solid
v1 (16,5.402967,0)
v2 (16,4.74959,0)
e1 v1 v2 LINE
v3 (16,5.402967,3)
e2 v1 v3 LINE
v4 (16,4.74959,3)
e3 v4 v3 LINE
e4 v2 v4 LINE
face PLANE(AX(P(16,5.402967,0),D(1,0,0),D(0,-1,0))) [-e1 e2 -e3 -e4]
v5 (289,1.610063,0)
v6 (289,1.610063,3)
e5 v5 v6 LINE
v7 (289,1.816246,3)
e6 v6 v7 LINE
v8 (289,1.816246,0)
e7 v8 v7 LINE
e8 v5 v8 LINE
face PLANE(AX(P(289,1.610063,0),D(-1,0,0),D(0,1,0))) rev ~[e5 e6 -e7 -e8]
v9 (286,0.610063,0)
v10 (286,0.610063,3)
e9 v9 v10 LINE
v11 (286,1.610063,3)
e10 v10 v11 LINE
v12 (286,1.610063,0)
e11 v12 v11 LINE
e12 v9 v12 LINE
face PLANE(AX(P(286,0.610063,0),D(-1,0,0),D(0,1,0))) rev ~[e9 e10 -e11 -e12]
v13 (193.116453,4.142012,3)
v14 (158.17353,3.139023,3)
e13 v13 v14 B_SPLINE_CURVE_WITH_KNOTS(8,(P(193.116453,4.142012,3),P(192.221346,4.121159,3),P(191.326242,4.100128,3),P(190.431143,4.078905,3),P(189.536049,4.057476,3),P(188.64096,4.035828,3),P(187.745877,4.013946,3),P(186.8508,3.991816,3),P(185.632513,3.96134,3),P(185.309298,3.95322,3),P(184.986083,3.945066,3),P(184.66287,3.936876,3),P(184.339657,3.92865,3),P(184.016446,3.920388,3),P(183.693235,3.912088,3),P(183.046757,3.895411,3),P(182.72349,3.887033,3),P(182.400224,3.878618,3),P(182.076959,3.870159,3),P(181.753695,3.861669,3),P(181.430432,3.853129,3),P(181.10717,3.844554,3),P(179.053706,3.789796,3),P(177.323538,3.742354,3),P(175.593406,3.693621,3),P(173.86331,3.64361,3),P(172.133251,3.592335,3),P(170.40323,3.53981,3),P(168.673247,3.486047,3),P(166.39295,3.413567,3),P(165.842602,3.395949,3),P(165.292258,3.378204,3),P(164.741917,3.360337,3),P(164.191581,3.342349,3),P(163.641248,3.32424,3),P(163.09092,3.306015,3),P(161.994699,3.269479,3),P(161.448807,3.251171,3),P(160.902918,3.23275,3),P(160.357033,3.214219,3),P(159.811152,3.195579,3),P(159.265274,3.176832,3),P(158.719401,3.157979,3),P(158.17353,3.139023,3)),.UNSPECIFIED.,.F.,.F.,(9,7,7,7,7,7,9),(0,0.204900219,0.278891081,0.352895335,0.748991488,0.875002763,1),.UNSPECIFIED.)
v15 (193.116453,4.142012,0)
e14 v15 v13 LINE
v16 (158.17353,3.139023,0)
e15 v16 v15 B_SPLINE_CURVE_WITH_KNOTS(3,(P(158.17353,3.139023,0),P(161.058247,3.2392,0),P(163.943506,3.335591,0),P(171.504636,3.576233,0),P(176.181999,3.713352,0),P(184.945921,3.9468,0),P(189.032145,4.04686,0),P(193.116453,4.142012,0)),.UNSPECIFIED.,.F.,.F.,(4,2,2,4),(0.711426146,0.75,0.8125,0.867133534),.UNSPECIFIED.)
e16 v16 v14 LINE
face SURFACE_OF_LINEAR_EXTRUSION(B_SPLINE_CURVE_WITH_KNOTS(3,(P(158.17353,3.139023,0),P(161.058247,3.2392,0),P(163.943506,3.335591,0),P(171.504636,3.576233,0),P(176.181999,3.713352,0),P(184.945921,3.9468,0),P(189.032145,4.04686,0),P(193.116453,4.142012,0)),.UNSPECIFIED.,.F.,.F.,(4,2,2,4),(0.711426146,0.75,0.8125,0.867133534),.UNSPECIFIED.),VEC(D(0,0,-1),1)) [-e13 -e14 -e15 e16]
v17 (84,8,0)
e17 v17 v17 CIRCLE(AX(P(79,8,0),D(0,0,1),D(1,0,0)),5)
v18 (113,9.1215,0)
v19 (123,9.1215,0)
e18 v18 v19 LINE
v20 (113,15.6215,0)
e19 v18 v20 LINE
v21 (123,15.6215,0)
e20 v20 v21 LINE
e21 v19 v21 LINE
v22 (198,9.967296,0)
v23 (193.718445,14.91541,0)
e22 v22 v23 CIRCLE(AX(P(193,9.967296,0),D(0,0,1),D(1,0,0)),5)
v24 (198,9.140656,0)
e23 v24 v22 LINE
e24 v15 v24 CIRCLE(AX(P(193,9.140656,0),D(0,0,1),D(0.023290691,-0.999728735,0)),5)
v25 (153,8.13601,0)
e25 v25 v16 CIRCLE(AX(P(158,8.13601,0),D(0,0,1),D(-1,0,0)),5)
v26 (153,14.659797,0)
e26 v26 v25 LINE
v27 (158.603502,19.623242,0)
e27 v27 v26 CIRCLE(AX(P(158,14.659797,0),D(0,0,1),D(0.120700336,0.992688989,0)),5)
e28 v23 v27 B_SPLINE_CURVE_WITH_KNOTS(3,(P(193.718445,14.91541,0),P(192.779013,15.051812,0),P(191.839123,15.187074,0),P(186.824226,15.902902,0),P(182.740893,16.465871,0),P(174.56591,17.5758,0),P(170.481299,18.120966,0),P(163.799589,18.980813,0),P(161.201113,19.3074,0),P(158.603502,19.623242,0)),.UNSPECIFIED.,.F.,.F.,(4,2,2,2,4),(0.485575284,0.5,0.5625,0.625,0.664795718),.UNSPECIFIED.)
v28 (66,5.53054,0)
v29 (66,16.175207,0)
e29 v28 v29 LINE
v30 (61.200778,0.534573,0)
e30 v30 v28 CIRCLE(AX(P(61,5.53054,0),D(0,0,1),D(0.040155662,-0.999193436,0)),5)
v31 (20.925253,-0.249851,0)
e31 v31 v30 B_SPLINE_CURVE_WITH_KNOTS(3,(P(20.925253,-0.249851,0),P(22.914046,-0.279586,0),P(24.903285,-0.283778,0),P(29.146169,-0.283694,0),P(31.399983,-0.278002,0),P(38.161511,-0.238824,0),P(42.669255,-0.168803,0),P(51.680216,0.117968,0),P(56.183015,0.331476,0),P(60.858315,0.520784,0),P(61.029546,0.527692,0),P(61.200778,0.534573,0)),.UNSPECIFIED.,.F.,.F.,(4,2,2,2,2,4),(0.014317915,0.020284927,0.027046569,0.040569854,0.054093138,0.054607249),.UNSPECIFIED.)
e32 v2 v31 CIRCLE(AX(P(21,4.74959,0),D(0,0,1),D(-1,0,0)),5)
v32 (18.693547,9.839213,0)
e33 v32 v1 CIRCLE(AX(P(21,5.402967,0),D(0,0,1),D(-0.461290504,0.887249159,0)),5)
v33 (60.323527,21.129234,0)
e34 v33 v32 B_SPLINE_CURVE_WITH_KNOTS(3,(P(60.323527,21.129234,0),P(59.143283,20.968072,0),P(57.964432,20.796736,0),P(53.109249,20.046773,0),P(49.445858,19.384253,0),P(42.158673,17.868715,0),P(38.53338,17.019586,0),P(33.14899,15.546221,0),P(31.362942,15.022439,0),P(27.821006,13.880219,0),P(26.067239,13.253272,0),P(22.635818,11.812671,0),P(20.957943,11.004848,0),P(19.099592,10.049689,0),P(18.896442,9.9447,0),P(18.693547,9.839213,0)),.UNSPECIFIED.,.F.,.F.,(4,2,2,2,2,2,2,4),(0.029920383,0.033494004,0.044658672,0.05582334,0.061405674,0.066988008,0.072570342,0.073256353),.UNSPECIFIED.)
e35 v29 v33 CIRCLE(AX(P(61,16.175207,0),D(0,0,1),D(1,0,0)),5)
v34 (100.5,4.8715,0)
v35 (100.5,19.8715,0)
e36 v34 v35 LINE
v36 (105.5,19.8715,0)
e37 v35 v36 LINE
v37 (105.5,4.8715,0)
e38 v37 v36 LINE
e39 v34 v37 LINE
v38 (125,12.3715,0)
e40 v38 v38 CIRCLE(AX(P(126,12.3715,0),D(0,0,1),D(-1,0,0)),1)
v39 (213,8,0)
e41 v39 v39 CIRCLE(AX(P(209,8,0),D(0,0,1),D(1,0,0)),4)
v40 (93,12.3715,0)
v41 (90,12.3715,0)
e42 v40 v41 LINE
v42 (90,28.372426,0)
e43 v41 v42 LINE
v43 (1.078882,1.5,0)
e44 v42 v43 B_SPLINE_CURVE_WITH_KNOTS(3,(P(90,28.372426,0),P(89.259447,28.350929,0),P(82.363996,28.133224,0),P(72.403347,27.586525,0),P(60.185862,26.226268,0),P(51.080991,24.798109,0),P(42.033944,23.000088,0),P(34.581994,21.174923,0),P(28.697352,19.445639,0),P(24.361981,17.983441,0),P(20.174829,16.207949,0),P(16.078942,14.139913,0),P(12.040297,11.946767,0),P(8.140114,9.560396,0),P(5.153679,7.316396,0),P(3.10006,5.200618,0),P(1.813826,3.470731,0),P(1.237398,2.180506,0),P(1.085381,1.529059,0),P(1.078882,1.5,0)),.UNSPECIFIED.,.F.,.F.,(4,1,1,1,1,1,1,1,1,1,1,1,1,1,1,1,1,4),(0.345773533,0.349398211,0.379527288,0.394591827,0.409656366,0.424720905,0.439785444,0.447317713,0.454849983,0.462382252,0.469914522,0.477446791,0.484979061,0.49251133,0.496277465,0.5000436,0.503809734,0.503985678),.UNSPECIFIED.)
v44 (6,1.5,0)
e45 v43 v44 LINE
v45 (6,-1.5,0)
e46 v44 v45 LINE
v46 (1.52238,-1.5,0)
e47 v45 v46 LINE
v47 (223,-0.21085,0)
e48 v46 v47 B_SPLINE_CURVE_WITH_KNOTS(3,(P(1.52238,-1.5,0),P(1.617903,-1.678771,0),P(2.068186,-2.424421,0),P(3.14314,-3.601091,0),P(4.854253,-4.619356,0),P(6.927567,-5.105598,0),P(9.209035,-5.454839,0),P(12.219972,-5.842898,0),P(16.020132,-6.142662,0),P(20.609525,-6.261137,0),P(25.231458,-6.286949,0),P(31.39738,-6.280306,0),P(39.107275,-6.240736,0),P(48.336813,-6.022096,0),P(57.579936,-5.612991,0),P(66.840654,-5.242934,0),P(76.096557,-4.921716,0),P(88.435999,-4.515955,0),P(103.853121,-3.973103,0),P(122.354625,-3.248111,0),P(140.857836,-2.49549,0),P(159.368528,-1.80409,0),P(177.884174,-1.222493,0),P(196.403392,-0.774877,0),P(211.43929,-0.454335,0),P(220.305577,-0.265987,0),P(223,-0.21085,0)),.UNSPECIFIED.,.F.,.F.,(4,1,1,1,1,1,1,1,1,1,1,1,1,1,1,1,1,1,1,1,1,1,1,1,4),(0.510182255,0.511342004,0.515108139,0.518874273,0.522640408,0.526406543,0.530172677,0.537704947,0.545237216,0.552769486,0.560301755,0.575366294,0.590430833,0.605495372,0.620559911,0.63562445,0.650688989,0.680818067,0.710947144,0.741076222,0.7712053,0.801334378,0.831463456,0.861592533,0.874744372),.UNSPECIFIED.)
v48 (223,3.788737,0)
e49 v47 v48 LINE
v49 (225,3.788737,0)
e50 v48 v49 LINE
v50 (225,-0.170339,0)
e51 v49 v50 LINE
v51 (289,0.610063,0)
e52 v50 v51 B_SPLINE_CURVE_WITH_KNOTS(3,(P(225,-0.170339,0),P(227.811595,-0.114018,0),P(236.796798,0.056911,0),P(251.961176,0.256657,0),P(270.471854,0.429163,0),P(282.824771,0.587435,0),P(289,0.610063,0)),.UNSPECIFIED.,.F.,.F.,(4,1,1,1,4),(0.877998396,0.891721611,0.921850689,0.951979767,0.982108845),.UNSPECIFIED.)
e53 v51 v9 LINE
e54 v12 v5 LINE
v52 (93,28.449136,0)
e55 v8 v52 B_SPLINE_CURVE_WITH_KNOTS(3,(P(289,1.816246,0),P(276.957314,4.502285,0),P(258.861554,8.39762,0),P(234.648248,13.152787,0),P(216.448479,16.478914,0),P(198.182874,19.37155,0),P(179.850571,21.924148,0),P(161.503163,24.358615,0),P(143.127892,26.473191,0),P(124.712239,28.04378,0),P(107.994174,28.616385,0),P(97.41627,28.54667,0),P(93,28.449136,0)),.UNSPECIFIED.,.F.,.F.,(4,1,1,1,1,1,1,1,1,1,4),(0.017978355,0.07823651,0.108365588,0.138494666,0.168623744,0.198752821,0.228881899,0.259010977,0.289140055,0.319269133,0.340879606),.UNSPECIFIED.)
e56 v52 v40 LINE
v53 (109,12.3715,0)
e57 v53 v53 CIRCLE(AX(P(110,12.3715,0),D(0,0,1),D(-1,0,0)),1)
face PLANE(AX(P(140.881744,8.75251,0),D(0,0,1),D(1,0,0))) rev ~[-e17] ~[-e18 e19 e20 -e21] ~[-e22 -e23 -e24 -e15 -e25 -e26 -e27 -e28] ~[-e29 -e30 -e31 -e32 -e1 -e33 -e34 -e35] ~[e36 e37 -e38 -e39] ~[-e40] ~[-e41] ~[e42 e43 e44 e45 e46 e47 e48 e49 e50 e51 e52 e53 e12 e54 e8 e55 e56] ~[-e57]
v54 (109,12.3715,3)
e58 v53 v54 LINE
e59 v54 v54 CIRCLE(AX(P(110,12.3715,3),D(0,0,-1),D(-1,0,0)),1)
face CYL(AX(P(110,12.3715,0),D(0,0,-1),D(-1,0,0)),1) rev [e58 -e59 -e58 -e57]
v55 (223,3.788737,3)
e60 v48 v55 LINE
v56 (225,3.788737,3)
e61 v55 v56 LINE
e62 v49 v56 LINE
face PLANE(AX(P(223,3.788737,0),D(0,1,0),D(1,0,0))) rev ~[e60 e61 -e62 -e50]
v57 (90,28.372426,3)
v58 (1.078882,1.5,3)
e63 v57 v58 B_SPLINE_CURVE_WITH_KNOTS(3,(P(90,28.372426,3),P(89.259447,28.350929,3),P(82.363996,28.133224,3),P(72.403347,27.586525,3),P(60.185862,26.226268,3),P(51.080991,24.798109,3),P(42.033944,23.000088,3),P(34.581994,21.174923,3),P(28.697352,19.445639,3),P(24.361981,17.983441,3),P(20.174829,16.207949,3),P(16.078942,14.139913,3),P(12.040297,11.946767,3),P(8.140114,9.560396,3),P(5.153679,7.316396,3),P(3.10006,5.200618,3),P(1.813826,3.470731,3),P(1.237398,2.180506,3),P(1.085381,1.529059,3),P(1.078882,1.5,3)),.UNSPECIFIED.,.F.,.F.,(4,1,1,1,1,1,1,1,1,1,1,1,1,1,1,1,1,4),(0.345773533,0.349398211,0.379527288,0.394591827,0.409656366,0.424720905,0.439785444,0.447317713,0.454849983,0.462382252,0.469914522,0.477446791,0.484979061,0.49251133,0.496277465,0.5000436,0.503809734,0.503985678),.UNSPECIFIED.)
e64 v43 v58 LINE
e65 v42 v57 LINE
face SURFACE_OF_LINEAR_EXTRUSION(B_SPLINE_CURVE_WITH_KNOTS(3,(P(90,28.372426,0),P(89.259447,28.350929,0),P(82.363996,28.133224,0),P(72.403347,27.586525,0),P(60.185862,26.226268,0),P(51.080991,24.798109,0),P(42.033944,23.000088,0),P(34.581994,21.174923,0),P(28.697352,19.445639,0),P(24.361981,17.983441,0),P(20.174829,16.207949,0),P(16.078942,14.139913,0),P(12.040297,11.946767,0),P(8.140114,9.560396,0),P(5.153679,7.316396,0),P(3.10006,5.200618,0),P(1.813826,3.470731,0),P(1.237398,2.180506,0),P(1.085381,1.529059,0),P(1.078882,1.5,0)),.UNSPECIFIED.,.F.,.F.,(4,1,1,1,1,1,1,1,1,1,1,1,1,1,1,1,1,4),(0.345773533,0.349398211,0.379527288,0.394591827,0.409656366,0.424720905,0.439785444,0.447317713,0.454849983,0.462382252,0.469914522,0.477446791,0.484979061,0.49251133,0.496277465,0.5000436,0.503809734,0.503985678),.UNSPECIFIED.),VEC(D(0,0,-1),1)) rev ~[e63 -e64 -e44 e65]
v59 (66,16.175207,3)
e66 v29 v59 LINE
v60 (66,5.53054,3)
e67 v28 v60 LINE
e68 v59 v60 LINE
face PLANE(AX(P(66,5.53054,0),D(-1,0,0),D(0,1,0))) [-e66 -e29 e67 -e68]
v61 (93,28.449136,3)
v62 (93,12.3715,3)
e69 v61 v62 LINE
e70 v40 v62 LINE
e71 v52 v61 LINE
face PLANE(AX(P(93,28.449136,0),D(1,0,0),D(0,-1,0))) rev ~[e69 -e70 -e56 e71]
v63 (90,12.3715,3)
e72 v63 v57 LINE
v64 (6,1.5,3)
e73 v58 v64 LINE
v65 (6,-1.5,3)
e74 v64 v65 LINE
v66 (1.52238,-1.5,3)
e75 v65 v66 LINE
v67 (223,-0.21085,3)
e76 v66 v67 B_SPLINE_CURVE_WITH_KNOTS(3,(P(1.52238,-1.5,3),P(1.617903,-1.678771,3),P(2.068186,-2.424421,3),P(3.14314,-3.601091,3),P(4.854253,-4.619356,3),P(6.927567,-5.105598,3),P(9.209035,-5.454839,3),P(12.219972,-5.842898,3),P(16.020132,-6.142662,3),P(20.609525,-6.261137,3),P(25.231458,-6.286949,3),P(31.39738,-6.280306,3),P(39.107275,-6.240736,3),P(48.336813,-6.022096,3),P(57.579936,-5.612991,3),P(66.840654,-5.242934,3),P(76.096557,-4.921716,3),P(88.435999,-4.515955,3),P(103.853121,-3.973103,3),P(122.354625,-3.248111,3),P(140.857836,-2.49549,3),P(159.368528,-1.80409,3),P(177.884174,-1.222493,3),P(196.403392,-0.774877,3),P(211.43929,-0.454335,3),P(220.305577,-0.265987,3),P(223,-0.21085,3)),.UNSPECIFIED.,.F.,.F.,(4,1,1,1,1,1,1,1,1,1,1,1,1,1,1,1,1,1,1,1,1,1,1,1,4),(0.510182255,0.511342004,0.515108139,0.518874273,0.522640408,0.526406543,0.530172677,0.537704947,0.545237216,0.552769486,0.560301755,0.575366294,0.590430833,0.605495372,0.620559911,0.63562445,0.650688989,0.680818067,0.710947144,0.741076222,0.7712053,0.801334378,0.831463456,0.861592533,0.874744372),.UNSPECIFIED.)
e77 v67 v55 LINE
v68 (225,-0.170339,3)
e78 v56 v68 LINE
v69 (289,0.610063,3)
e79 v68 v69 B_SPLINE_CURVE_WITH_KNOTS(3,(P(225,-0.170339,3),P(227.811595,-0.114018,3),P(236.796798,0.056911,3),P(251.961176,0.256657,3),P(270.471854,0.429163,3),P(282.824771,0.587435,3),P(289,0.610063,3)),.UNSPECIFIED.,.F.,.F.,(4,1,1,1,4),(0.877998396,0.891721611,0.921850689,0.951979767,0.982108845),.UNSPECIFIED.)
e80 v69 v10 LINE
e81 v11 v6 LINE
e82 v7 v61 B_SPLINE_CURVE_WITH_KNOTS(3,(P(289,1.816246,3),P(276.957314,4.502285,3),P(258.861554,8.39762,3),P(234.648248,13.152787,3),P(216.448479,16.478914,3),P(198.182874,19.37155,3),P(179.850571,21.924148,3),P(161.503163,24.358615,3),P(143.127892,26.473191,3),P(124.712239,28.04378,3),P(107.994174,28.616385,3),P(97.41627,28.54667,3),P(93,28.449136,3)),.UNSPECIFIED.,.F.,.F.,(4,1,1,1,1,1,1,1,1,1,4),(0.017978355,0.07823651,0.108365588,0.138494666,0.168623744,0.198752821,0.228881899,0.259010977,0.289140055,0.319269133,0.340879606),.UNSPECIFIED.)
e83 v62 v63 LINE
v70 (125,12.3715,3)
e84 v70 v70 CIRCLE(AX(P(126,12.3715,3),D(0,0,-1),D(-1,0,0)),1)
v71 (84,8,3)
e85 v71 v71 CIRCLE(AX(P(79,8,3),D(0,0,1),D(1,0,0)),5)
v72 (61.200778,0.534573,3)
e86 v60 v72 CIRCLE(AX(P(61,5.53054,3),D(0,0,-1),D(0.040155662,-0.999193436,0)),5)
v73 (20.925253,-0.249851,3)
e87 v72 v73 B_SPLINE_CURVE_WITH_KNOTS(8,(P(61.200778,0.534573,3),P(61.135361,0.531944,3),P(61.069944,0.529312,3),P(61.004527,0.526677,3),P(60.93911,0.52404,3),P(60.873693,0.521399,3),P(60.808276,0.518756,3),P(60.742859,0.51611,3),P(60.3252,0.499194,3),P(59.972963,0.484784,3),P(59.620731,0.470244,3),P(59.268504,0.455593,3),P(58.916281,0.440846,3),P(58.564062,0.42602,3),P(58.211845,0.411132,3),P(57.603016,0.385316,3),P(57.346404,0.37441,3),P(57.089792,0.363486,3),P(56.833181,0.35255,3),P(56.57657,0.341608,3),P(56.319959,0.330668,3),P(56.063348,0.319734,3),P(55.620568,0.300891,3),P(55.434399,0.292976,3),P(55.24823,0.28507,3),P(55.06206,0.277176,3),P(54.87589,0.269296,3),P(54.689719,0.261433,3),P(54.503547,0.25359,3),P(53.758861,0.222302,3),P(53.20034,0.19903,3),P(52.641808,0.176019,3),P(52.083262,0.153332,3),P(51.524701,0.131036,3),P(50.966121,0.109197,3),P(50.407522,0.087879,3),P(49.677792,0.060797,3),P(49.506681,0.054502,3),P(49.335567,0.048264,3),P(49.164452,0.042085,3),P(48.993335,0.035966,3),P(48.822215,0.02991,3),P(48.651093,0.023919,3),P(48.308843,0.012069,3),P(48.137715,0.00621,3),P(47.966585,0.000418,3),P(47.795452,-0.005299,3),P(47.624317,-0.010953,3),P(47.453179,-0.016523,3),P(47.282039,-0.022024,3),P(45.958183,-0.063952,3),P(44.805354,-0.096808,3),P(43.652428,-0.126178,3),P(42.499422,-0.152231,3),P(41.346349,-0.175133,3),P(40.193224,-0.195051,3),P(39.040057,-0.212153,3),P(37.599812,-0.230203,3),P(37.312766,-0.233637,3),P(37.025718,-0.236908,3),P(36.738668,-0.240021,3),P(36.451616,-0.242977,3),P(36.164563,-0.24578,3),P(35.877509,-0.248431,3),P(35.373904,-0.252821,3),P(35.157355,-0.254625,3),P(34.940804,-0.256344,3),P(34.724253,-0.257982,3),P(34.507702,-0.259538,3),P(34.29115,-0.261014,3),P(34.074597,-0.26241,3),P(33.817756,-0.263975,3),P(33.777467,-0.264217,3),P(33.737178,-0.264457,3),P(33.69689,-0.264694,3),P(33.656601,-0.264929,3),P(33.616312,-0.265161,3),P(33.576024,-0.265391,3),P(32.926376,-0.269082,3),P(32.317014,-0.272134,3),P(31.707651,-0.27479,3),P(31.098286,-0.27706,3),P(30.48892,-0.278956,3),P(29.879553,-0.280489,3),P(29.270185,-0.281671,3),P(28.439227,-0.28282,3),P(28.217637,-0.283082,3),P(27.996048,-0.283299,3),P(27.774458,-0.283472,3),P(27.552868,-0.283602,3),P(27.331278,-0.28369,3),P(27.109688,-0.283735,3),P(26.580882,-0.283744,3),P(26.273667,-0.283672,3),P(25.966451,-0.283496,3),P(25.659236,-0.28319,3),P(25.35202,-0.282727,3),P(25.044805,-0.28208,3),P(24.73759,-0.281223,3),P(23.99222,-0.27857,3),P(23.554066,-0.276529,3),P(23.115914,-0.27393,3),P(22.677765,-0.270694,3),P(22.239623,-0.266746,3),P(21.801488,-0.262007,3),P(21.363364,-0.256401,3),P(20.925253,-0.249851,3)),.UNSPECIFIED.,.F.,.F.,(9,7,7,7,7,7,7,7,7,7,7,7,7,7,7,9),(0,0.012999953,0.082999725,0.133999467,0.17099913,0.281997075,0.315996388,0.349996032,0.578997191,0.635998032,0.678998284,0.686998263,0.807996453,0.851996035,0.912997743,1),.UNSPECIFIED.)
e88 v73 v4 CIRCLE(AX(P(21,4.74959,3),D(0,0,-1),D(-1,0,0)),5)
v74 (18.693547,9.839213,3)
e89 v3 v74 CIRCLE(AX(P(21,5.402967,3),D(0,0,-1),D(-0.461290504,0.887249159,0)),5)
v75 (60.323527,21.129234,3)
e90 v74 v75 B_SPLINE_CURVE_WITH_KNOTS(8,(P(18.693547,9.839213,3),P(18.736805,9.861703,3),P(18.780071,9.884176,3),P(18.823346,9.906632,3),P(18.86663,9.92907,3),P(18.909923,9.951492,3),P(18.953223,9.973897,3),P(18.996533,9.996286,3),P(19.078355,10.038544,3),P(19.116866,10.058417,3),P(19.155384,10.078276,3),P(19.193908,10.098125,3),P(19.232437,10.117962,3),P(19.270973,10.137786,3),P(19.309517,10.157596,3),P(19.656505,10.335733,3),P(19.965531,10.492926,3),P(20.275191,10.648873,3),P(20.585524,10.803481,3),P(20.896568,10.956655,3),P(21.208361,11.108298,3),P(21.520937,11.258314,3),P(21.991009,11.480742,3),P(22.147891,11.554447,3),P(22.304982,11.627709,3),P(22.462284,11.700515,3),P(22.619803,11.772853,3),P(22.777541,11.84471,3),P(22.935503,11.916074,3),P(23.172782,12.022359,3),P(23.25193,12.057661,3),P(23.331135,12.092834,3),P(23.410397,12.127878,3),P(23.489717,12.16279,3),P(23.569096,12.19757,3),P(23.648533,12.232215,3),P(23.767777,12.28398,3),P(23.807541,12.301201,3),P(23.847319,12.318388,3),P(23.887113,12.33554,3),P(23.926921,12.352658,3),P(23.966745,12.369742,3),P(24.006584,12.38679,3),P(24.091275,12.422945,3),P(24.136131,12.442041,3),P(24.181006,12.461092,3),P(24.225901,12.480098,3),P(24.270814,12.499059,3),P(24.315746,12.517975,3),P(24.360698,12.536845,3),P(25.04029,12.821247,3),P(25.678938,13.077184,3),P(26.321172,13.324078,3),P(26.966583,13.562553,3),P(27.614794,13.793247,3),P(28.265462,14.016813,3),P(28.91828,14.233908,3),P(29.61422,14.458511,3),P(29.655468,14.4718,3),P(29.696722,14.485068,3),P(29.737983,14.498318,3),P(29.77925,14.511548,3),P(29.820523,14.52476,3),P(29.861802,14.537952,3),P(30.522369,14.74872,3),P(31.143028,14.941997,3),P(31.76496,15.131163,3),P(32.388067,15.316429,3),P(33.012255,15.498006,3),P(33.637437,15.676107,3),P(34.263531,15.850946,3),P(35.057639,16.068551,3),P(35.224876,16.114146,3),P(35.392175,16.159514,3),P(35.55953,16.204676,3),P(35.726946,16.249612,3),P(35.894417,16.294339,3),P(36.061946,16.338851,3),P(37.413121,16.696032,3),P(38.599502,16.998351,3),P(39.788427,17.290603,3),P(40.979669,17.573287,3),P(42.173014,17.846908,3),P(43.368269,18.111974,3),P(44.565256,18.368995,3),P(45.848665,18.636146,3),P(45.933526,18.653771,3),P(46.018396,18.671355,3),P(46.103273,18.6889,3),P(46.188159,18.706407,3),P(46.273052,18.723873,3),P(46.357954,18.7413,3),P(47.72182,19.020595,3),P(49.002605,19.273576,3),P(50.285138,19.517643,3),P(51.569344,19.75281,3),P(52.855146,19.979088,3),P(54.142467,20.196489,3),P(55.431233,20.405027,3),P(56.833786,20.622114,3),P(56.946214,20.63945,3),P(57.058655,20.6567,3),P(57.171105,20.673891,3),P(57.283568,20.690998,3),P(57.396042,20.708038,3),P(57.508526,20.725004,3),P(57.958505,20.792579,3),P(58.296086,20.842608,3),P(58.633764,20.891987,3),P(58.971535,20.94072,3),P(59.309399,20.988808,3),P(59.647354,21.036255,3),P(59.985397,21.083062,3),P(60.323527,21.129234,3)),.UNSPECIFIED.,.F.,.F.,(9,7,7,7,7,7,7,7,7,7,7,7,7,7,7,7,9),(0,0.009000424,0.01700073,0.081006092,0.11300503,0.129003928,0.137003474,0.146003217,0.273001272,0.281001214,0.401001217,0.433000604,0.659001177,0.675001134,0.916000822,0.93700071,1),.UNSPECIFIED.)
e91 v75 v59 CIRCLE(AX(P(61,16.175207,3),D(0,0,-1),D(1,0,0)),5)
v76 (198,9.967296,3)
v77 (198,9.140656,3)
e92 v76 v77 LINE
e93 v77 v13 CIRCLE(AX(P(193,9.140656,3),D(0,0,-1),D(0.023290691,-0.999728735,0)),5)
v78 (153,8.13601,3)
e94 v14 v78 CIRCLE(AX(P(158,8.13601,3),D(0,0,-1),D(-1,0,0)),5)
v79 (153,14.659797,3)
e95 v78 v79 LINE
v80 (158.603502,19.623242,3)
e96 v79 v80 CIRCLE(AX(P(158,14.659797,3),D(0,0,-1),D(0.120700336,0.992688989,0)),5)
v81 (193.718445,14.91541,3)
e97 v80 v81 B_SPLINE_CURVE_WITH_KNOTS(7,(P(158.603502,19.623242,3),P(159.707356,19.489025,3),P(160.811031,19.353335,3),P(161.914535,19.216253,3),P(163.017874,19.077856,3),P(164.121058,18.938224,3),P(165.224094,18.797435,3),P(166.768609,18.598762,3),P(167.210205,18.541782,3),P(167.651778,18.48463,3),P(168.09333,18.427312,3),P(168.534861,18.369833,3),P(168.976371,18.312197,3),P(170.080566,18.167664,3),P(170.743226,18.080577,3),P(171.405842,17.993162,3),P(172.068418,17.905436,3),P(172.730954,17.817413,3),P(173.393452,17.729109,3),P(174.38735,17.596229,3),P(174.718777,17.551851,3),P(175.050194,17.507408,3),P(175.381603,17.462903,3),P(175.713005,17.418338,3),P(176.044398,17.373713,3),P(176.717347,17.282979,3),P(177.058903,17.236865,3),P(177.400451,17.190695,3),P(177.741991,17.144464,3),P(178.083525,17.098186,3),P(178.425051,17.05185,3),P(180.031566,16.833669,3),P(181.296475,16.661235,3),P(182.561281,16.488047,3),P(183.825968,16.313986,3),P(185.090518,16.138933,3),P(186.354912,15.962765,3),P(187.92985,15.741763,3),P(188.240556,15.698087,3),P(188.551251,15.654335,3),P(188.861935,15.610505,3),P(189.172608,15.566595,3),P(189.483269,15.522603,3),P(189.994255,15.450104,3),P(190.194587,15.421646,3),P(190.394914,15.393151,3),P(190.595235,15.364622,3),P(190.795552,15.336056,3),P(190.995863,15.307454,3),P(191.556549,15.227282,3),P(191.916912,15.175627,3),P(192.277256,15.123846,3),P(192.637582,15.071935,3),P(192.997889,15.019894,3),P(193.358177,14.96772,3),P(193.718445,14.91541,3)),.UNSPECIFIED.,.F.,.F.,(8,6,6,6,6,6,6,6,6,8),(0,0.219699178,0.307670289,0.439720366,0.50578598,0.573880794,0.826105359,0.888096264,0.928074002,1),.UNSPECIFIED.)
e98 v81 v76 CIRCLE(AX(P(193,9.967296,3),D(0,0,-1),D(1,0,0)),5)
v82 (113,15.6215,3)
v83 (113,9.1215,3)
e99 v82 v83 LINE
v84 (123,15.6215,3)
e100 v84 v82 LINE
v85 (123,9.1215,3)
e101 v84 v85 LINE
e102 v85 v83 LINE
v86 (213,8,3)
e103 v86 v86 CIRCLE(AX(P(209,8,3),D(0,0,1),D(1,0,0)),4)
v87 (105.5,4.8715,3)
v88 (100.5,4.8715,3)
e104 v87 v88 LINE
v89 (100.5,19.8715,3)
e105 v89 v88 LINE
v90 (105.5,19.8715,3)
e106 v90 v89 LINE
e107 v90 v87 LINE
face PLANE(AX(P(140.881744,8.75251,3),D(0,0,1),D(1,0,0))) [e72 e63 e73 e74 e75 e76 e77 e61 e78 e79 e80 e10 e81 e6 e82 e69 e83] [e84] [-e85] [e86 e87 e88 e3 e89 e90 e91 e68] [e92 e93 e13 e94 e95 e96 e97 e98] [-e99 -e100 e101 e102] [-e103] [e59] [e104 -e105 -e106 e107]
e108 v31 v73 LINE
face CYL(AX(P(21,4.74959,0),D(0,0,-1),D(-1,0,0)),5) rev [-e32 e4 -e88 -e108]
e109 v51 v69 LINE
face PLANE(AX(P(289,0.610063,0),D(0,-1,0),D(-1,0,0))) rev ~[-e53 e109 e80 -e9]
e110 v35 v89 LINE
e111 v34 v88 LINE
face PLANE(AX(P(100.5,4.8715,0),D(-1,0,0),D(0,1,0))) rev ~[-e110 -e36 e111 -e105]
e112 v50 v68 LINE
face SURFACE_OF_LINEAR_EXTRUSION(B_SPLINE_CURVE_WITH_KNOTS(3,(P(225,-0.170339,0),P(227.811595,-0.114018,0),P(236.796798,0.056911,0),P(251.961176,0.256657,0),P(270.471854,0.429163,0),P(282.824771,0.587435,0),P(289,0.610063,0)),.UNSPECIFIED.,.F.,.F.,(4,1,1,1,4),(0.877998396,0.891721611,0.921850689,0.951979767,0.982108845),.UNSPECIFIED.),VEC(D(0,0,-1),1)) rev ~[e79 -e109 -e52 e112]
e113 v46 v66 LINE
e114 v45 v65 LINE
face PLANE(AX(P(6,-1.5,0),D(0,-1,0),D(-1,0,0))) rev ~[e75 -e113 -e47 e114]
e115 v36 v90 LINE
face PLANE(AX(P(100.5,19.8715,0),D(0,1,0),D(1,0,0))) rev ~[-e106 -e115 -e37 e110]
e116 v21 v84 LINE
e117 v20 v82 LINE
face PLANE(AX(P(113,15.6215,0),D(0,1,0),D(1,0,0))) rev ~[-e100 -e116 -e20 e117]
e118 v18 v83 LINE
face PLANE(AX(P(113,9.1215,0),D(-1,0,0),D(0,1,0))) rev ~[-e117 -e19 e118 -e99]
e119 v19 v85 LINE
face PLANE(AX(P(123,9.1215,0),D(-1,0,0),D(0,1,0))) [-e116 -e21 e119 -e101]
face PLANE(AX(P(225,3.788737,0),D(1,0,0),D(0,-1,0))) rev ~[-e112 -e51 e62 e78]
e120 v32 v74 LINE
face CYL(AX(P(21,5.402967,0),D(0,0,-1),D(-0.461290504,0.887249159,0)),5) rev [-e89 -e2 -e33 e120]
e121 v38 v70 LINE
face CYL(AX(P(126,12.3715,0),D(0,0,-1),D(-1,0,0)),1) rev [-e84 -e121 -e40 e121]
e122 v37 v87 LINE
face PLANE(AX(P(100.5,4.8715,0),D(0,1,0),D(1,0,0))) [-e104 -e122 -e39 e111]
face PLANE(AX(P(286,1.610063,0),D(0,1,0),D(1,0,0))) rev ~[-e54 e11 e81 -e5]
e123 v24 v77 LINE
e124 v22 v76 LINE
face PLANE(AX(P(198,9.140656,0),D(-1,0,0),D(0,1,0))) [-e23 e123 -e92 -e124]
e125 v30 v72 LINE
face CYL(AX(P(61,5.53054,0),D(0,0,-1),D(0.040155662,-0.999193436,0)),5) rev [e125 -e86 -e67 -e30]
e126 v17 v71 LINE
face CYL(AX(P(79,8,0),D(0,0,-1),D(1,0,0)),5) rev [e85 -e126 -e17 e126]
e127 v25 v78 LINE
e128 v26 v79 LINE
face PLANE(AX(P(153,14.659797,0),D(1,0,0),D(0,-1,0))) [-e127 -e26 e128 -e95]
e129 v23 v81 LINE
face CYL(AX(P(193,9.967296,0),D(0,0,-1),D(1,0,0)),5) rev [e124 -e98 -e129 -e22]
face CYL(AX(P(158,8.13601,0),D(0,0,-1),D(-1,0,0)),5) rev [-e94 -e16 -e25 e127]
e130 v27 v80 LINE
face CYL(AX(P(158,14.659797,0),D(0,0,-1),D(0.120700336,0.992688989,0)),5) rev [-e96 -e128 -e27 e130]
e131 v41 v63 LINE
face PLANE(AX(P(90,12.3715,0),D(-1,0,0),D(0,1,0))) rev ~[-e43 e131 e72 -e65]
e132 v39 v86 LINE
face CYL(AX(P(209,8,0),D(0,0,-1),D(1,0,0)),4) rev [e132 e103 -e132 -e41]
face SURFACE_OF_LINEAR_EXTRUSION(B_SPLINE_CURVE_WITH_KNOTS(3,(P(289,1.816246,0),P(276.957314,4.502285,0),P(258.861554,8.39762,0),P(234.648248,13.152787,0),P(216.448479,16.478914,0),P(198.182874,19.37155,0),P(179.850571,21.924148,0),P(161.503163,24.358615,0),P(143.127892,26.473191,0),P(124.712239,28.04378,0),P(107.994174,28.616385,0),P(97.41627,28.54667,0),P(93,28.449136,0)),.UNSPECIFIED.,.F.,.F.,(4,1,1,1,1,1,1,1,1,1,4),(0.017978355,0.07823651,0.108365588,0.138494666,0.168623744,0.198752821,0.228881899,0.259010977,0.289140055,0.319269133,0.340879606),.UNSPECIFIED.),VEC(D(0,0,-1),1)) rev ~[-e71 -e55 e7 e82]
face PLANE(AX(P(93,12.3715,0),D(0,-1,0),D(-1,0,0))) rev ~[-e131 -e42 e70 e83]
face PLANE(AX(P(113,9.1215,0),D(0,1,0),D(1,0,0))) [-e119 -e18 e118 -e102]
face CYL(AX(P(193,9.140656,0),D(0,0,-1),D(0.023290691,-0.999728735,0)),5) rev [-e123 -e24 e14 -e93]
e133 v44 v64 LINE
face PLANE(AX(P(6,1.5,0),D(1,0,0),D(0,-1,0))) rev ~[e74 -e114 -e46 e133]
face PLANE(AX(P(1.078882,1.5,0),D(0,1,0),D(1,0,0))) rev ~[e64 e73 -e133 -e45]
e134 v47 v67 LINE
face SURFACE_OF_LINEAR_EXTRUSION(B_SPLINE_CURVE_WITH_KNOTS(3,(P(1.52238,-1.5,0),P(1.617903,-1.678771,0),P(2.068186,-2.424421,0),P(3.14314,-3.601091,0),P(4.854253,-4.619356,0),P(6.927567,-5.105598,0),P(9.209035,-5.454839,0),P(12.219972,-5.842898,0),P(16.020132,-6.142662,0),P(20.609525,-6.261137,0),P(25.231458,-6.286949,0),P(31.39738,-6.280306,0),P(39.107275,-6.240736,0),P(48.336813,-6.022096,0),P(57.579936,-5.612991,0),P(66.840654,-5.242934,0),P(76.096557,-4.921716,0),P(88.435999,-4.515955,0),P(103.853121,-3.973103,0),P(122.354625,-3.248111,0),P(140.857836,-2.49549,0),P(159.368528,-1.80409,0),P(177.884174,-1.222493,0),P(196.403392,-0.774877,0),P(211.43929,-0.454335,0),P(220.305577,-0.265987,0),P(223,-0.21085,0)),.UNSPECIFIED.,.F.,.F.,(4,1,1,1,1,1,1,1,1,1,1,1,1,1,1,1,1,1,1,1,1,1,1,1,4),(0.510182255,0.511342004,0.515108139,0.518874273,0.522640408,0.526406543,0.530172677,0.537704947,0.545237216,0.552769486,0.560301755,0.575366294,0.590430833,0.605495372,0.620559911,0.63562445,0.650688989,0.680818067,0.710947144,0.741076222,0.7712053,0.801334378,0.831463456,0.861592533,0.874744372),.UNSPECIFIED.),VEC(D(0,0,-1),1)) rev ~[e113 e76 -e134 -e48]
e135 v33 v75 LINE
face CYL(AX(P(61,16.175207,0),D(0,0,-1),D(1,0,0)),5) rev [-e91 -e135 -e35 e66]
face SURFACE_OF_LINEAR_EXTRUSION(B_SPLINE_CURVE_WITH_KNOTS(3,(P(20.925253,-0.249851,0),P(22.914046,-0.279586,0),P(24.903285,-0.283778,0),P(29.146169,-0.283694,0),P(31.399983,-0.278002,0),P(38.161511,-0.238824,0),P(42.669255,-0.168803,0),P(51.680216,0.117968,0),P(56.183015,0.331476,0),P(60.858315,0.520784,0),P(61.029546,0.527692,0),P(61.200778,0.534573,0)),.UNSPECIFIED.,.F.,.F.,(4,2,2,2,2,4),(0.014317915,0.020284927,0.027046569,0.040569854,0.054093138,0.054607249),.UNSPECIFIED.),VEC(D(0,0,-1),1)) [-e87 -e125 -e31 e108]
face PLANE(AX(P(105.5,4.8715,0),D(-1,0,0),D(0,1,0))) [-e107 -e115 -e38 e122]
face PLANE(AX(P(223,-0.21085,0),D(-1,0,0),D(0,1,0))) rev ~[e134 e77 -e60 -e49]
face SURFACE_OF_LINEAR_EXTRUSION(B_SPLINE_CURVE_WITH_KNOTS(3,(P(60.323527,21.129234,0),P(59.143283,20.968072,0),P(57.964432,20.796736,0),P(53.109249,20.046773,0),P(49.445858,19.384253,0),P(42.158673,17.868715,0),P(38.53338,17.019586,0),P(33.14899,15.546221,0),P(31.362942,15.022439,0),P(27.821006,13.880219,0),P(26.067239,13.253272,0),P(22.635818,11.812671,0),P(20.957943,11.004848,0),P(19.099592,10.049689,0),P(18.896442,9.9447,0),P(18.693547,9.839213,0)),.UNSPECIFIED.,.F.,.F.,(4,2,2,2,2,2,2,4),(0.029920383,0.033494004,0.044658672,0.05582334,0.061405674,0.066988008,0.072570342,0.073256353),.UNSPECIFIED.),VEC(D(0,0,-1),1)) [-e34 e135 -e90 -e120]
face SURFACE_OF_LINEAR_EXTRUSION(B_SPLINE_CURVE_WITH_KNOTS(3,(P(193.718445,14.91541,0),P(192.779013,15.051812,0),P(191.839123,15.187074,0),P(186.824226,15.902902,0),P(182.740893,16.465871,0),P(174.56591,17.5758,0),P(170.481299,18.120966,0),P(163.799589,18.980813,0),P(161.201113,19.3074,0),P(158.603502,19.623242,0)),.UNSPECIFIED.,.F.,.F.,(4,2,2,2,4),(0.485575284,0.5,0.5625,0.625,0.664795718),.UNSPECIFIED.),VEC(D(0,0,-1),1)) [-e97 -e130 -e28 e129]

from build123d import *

# Parameters (mm, degrees)
SKETCH_1_R          = 5
SKETCH_1_R_2        = 4
EXTRUDE_1_DEPTH     = 3
SKETCH_3_R          = 1
SKETCH_3_W          = 10
SKETCH_3_H          = 6.5
SKETCH_3_W_2        = 5
SKETCH_3_H_2        = 15
CUT_EXTRUDE_2_DEPTH = 291.422386836


with BuildPart() as part:
    # 草图1 → 凸台-拉伸1 (new body)
    with BuildSketch(Plane.XY):
        with BuildLine():
            Line((90, 12.3715), (90, 28.372426217))
            add(Edge.make_bspline(
                [(90, 28.372426217), (89.259446982, 28.350928743), (82.363996343, 28.13322439), (72.403347361, 27.586524792), (60.185862052, 26.226268085), (51.080991088, 24.79810862), (42.033943524, 23.000087944), (34.581994337, 21.174922903), (28.697351661, 19.44563851), (24.361981086, 17.983441115), (20.174828998, 16.207949367), (16.078941989, 14.139912989), (12.040296713, 11.946766626), (8.14011433, 9.56039573), (5.153679337, 7.316395724), (3.100060439, 5.200618052), (1.813825976, 3.470730924), (1.237398467, 2.180506339), (1.085380705, 1.529058937), (1.078882286, 1.5)],
                knots=[0.345773533, 0.345773533, 0.345773533, 0.345773533, 0.349398211, 0.379527288, 0.394591827, 0.409656366, 0.424720905, 0.439785444, 0.447317713, 0.454849983, 0.462382252, 0.469914522, 0.477446791, 0.484979061, 0.49251133, 0.496277465, 0.5000436, 0.503809734, 0.503985678, 0.503985678, 0.503985678, 0.503985678], degree=3))
            Line((1.078882286, 1.5), (6, 1.5))
            Line((6, 1.5), (6, -1.5))
            Line((6, -1.5), (1.522379628, -1.5))
            add(Edge.make_bspline(
                [(1.522379628, -1.5), (1.617903461, -1.678770523), (2.068186491, -2.42442122), (3.143139608, -3.601090845), (4.854253, -4.619355756), (6.927567017, -5.105597911), (9.209034621, -5.454839075), (12.219971865, -5.84289763), (16.020132359, -6.14266222), (20.609524976, -6.2611368), (25.231457517, -6.286948592), (31.397380169, -6.280305851), (39.107274969, -6.240736398), (48.336813051, -6.022096429), (57.579935967, -5.612990736), (66.840654471, -5.242934226), (76.096556555, -4.921715721), (88.435998513, -4.515955408), (103.853120896, -3.973102953), (122.354625015, -3.248110744), (140.857835973, -2.495489966), (159.368527813, -1.804089638), (177.884173919, -1.222493213), (196.4033921, -0.774877257), (211.439290174, -0.454334834), (220.305576898, -0.265987383), (223, -0.210849605)],
                knots=[0.510182255, 0.510182255, 0.510182255, 0.510182255, 0.511342004, 0.515108139, 0.518874273, 0.522640408, 0.526406543, 0.530172677, 0.537704947, 0.545237216, 0.552769486, 0.560301755, 0.575366294, 0.590430833, 0.605495372, 0.620559911, 0.63562445, 0.650688989, 0.680818067, 0.710947144, 0.741076222, 0.7712053, 0.801334378, 0.831463456, 0.861592533, 0.874744372, 0.874744372, 0.874744372, 0.874744372], degree=3))
            Line((223, -0.210849605), (223, 3.788737263))
            Line((223, 3.788737263), (225, 3.788737263))
            Line((225, 3.788737263), (225, -0.170338801))
            add(Edge.make_bspline(
                [(225, -0.170338801), (227.811595191, -0.114017747), (236.796798206, 0.056910764), (251.961175933, 0.256656825), (270.471854229, 0.429163033), (282.824771355, 0.587434741), (289, 0.610062865)],
                knots=[0.877998396, 0.877998396, 0.877998396, 0.877998396, 0.891721611, 0.921850689, 0.951979767, 0.982108845, 0.982108845, 0.982108845, 0.982108845], degree=3))
            Line((289, 0.610062865), (286, 0.610062865))
            Line((286, 0.610062865), (286, 1.610062865))
            Line((286, 1.610062865), (289, 1.610062865))
            Line((289, 1.610062865), (289, 1.816246039))
            add(Edge.make_bspline(
                [(289, 1.816246039), (276.957314444, 4.502285023), (258.861554155, 8.397620333), (234.648247971, 13.152786595), (216.448478593, 16.478914183), (198.182873559, 19.371550405), (179.850571346, 21.924148488), (161.503162682, 24.358614825), (143.127892269, 26.473190985), (124.712239059, 28.043780086), (107.994173705, 28.616385423), (97.416270032, 28.546670082), (93, 28.44913561)],
                knots=[0.017978355, 0.017978355, 0.017978355, 0.017978355, 0.07823651, 0.108365588, 0.138494666, 0.168623744, 0.198752821, 0.228881899, 0.259010977, 0.289140055, 0.319269133, 0.340879606, 0.340879606, 0.340879606, 0.340879606], degree=3))
            Line((93, 28.44913561), (93, 12.3715))
            Line((93, 12.3715), (90, 12.3715))
        make_face()
        with Locations((79, 8)):
            Circle(SKETCH_1_R, mode=Mode.SUBTRACT)
        with Locations((209, 8)):
            Circle(SKETCH_1_R_2, mode=Mode.SUBTRACT)
    extrude(amount=EXTRUDE_1_DEPTH)

    # 草图3 → 切除-拉伸2 (cut, through all)
    with BuildSketch(Plane.XY):
        with Locations(Location((110, 12.3715, 0), (0, 0, 180))):
            Circle(SKETCH_3_R)
        with Locations(Location((126, 12.3715, 0), (0, 0, 180))):
            Circle(SKETCH_3_R)
        with BuildLine():
            Line((16, 5.402967421), (16, 4.74959002))
            ThreePointArc((16, 4.74959002), (17.438137187, 1.240582567), (20.925253321, -0.249851242))
            add(Edge.make_bspline(
                [(20.925253321, -0.249851242), (22.914045789, -0.279585692), (24.903284625, -0.283778057), (29.14616948, -0.28369414), (31.399982567, -0.278002295), (38.161511328, -0.238823637), (42.669255398, -0.168803371), (51.680216376, 0.117967683), (56.183014764, 0.33147635), (60.85831542, 0.520784363), (61.02954636, 0.527691534), (61.200778311, 0.534573017)],
                knots=[0.014317915, 0.014317915, 0.014317915, 0.014317915, 0.020284927, 0.020284927, 0.027046569, 0.027046569, 0.040569854, 0.040569854, 0.054093138, 0.054093138, 0.054607249, 0.054607249, 0.054607249, 0.054607249], degree=3))
            ThreePointArc((61.200778311, 0.534573017), (64.605821096, 2.066719442), (66, 5.530540197))
            Line((66, 5.530540197), (66, 16.175207171))
            ThreePointArc((66, 16.175207171), (64.287676463, 19.942325894), (60.32352661, 21.129234195))
            add(Edge.make_bspline(
                [(60.32352661, 21.129234195), (59.143282742, 20.968071656), (57.964431768, 20.796736398), (53.109249428, 20.046773379), (49.445857595, 19.384253181), (42.158673028, 17.868714577), (38.533379611, 17.019586343), (33.148990447, 15.546220745), (31.362942012, 15.022439399), (27.821005995, 13.880218625), (26.067238608, 13.253271835), (22.635818059, 11.812670552), (20.957942753, 11.004847704), (19.099592195, 10.049689097), (18.896441621, 9.944700093), (18.693547477, 9.839213217)],
                knots=[0.029920383, 0.029920383, 0.029920383, 0.029920383, 0.033494004, 0.033494004, 0.044658672, 0.044658672, 0.05582334, 0.05582334, 0.061405674, 0.061405674, 0.066988008, 0.066988008, 0.072570342, 0.072570342, 0.073256353, 0.073256353, 0.073256353, 0.073256353], degree=3))
            ThreePointArc((18.693547477, 9.839213217), (16.726110517, 7.997937304), (16, 5.402967421))
        make_face()
        with Locations((118, 12.3715)):
            Rectangle(SKETCH_3_W, SKETCH_3_H)
        with Locations((103, 12.3715)):
            Rectangle(SKETCH_3_W_2, SKETCH_3_H_2)
        with BuildLine():
            Line((153, 14.659796962), (153, 8.136010376))
            ThreePointArc((153, 8.136010376), (154.52636013, 4.539647484), (158.17353042, 3.139022564))
            add(Edge.make_bspline(
                [(158.17353042, 3.139022564), (161.058246521, 3.239200114), (163.943505856, 3.335590583), (171.504636491, 3.576232826), (176.18199895, 3.713351663), (184.945921303, 3.946800138), (189.03214497, 4.046860263), (193.116453453, 4.14201244)],
                knots=[0.711426146, 0.711426146, 0.711426146, 0.711426146, 0.75, 0.75, 0.8125, 0.8125, 0.867133534, 0.867133534, 0.867133534, 0.867133534], degree=3))
            ThreePointArc((193.116453453, 4.14201244), (196.576469437, 5.64653729), (198, 9.140656115))
            Line((198, 9.140656115), (198, 9.967295711))
            ThreePointArc((198, 9.967295711), (196.781019979, 13.238975389), (193.718444833, 14.915410202))
            add(Edge.make_bspline(
                [(193.718444833, 14.915410202), (192.779013077, 15.051811632), (191.839123333, 15.187073825), (186.824226186, 15.902901834), (182.740892869, 16.465870736), (174.565909682, 17.575800313), (170.481299177, 18.120965891), (163.799588722, 18.980812945), (161.201113289, 19.307400191), (158.603501679, 19.623241907)],
                knots=[0.485575284, 0.485575284, 0.485575284, 0.485575284, 0.5, 0.5, 0.5625, 0.5625, 0.625, 0.625, 0.664795718, 0.664795718, 0.664795718, 0.664795718], degree=3))
            ThreePointArc((158.603501679, 19.623241907), (154.684695217, 18.402623995), (153, 14.659796962))
        make_face()
    extrude(amount=CUT_EXTRUDE_2_DEPTH, mode=Mode.SUBTRACT)


solid = part.part
